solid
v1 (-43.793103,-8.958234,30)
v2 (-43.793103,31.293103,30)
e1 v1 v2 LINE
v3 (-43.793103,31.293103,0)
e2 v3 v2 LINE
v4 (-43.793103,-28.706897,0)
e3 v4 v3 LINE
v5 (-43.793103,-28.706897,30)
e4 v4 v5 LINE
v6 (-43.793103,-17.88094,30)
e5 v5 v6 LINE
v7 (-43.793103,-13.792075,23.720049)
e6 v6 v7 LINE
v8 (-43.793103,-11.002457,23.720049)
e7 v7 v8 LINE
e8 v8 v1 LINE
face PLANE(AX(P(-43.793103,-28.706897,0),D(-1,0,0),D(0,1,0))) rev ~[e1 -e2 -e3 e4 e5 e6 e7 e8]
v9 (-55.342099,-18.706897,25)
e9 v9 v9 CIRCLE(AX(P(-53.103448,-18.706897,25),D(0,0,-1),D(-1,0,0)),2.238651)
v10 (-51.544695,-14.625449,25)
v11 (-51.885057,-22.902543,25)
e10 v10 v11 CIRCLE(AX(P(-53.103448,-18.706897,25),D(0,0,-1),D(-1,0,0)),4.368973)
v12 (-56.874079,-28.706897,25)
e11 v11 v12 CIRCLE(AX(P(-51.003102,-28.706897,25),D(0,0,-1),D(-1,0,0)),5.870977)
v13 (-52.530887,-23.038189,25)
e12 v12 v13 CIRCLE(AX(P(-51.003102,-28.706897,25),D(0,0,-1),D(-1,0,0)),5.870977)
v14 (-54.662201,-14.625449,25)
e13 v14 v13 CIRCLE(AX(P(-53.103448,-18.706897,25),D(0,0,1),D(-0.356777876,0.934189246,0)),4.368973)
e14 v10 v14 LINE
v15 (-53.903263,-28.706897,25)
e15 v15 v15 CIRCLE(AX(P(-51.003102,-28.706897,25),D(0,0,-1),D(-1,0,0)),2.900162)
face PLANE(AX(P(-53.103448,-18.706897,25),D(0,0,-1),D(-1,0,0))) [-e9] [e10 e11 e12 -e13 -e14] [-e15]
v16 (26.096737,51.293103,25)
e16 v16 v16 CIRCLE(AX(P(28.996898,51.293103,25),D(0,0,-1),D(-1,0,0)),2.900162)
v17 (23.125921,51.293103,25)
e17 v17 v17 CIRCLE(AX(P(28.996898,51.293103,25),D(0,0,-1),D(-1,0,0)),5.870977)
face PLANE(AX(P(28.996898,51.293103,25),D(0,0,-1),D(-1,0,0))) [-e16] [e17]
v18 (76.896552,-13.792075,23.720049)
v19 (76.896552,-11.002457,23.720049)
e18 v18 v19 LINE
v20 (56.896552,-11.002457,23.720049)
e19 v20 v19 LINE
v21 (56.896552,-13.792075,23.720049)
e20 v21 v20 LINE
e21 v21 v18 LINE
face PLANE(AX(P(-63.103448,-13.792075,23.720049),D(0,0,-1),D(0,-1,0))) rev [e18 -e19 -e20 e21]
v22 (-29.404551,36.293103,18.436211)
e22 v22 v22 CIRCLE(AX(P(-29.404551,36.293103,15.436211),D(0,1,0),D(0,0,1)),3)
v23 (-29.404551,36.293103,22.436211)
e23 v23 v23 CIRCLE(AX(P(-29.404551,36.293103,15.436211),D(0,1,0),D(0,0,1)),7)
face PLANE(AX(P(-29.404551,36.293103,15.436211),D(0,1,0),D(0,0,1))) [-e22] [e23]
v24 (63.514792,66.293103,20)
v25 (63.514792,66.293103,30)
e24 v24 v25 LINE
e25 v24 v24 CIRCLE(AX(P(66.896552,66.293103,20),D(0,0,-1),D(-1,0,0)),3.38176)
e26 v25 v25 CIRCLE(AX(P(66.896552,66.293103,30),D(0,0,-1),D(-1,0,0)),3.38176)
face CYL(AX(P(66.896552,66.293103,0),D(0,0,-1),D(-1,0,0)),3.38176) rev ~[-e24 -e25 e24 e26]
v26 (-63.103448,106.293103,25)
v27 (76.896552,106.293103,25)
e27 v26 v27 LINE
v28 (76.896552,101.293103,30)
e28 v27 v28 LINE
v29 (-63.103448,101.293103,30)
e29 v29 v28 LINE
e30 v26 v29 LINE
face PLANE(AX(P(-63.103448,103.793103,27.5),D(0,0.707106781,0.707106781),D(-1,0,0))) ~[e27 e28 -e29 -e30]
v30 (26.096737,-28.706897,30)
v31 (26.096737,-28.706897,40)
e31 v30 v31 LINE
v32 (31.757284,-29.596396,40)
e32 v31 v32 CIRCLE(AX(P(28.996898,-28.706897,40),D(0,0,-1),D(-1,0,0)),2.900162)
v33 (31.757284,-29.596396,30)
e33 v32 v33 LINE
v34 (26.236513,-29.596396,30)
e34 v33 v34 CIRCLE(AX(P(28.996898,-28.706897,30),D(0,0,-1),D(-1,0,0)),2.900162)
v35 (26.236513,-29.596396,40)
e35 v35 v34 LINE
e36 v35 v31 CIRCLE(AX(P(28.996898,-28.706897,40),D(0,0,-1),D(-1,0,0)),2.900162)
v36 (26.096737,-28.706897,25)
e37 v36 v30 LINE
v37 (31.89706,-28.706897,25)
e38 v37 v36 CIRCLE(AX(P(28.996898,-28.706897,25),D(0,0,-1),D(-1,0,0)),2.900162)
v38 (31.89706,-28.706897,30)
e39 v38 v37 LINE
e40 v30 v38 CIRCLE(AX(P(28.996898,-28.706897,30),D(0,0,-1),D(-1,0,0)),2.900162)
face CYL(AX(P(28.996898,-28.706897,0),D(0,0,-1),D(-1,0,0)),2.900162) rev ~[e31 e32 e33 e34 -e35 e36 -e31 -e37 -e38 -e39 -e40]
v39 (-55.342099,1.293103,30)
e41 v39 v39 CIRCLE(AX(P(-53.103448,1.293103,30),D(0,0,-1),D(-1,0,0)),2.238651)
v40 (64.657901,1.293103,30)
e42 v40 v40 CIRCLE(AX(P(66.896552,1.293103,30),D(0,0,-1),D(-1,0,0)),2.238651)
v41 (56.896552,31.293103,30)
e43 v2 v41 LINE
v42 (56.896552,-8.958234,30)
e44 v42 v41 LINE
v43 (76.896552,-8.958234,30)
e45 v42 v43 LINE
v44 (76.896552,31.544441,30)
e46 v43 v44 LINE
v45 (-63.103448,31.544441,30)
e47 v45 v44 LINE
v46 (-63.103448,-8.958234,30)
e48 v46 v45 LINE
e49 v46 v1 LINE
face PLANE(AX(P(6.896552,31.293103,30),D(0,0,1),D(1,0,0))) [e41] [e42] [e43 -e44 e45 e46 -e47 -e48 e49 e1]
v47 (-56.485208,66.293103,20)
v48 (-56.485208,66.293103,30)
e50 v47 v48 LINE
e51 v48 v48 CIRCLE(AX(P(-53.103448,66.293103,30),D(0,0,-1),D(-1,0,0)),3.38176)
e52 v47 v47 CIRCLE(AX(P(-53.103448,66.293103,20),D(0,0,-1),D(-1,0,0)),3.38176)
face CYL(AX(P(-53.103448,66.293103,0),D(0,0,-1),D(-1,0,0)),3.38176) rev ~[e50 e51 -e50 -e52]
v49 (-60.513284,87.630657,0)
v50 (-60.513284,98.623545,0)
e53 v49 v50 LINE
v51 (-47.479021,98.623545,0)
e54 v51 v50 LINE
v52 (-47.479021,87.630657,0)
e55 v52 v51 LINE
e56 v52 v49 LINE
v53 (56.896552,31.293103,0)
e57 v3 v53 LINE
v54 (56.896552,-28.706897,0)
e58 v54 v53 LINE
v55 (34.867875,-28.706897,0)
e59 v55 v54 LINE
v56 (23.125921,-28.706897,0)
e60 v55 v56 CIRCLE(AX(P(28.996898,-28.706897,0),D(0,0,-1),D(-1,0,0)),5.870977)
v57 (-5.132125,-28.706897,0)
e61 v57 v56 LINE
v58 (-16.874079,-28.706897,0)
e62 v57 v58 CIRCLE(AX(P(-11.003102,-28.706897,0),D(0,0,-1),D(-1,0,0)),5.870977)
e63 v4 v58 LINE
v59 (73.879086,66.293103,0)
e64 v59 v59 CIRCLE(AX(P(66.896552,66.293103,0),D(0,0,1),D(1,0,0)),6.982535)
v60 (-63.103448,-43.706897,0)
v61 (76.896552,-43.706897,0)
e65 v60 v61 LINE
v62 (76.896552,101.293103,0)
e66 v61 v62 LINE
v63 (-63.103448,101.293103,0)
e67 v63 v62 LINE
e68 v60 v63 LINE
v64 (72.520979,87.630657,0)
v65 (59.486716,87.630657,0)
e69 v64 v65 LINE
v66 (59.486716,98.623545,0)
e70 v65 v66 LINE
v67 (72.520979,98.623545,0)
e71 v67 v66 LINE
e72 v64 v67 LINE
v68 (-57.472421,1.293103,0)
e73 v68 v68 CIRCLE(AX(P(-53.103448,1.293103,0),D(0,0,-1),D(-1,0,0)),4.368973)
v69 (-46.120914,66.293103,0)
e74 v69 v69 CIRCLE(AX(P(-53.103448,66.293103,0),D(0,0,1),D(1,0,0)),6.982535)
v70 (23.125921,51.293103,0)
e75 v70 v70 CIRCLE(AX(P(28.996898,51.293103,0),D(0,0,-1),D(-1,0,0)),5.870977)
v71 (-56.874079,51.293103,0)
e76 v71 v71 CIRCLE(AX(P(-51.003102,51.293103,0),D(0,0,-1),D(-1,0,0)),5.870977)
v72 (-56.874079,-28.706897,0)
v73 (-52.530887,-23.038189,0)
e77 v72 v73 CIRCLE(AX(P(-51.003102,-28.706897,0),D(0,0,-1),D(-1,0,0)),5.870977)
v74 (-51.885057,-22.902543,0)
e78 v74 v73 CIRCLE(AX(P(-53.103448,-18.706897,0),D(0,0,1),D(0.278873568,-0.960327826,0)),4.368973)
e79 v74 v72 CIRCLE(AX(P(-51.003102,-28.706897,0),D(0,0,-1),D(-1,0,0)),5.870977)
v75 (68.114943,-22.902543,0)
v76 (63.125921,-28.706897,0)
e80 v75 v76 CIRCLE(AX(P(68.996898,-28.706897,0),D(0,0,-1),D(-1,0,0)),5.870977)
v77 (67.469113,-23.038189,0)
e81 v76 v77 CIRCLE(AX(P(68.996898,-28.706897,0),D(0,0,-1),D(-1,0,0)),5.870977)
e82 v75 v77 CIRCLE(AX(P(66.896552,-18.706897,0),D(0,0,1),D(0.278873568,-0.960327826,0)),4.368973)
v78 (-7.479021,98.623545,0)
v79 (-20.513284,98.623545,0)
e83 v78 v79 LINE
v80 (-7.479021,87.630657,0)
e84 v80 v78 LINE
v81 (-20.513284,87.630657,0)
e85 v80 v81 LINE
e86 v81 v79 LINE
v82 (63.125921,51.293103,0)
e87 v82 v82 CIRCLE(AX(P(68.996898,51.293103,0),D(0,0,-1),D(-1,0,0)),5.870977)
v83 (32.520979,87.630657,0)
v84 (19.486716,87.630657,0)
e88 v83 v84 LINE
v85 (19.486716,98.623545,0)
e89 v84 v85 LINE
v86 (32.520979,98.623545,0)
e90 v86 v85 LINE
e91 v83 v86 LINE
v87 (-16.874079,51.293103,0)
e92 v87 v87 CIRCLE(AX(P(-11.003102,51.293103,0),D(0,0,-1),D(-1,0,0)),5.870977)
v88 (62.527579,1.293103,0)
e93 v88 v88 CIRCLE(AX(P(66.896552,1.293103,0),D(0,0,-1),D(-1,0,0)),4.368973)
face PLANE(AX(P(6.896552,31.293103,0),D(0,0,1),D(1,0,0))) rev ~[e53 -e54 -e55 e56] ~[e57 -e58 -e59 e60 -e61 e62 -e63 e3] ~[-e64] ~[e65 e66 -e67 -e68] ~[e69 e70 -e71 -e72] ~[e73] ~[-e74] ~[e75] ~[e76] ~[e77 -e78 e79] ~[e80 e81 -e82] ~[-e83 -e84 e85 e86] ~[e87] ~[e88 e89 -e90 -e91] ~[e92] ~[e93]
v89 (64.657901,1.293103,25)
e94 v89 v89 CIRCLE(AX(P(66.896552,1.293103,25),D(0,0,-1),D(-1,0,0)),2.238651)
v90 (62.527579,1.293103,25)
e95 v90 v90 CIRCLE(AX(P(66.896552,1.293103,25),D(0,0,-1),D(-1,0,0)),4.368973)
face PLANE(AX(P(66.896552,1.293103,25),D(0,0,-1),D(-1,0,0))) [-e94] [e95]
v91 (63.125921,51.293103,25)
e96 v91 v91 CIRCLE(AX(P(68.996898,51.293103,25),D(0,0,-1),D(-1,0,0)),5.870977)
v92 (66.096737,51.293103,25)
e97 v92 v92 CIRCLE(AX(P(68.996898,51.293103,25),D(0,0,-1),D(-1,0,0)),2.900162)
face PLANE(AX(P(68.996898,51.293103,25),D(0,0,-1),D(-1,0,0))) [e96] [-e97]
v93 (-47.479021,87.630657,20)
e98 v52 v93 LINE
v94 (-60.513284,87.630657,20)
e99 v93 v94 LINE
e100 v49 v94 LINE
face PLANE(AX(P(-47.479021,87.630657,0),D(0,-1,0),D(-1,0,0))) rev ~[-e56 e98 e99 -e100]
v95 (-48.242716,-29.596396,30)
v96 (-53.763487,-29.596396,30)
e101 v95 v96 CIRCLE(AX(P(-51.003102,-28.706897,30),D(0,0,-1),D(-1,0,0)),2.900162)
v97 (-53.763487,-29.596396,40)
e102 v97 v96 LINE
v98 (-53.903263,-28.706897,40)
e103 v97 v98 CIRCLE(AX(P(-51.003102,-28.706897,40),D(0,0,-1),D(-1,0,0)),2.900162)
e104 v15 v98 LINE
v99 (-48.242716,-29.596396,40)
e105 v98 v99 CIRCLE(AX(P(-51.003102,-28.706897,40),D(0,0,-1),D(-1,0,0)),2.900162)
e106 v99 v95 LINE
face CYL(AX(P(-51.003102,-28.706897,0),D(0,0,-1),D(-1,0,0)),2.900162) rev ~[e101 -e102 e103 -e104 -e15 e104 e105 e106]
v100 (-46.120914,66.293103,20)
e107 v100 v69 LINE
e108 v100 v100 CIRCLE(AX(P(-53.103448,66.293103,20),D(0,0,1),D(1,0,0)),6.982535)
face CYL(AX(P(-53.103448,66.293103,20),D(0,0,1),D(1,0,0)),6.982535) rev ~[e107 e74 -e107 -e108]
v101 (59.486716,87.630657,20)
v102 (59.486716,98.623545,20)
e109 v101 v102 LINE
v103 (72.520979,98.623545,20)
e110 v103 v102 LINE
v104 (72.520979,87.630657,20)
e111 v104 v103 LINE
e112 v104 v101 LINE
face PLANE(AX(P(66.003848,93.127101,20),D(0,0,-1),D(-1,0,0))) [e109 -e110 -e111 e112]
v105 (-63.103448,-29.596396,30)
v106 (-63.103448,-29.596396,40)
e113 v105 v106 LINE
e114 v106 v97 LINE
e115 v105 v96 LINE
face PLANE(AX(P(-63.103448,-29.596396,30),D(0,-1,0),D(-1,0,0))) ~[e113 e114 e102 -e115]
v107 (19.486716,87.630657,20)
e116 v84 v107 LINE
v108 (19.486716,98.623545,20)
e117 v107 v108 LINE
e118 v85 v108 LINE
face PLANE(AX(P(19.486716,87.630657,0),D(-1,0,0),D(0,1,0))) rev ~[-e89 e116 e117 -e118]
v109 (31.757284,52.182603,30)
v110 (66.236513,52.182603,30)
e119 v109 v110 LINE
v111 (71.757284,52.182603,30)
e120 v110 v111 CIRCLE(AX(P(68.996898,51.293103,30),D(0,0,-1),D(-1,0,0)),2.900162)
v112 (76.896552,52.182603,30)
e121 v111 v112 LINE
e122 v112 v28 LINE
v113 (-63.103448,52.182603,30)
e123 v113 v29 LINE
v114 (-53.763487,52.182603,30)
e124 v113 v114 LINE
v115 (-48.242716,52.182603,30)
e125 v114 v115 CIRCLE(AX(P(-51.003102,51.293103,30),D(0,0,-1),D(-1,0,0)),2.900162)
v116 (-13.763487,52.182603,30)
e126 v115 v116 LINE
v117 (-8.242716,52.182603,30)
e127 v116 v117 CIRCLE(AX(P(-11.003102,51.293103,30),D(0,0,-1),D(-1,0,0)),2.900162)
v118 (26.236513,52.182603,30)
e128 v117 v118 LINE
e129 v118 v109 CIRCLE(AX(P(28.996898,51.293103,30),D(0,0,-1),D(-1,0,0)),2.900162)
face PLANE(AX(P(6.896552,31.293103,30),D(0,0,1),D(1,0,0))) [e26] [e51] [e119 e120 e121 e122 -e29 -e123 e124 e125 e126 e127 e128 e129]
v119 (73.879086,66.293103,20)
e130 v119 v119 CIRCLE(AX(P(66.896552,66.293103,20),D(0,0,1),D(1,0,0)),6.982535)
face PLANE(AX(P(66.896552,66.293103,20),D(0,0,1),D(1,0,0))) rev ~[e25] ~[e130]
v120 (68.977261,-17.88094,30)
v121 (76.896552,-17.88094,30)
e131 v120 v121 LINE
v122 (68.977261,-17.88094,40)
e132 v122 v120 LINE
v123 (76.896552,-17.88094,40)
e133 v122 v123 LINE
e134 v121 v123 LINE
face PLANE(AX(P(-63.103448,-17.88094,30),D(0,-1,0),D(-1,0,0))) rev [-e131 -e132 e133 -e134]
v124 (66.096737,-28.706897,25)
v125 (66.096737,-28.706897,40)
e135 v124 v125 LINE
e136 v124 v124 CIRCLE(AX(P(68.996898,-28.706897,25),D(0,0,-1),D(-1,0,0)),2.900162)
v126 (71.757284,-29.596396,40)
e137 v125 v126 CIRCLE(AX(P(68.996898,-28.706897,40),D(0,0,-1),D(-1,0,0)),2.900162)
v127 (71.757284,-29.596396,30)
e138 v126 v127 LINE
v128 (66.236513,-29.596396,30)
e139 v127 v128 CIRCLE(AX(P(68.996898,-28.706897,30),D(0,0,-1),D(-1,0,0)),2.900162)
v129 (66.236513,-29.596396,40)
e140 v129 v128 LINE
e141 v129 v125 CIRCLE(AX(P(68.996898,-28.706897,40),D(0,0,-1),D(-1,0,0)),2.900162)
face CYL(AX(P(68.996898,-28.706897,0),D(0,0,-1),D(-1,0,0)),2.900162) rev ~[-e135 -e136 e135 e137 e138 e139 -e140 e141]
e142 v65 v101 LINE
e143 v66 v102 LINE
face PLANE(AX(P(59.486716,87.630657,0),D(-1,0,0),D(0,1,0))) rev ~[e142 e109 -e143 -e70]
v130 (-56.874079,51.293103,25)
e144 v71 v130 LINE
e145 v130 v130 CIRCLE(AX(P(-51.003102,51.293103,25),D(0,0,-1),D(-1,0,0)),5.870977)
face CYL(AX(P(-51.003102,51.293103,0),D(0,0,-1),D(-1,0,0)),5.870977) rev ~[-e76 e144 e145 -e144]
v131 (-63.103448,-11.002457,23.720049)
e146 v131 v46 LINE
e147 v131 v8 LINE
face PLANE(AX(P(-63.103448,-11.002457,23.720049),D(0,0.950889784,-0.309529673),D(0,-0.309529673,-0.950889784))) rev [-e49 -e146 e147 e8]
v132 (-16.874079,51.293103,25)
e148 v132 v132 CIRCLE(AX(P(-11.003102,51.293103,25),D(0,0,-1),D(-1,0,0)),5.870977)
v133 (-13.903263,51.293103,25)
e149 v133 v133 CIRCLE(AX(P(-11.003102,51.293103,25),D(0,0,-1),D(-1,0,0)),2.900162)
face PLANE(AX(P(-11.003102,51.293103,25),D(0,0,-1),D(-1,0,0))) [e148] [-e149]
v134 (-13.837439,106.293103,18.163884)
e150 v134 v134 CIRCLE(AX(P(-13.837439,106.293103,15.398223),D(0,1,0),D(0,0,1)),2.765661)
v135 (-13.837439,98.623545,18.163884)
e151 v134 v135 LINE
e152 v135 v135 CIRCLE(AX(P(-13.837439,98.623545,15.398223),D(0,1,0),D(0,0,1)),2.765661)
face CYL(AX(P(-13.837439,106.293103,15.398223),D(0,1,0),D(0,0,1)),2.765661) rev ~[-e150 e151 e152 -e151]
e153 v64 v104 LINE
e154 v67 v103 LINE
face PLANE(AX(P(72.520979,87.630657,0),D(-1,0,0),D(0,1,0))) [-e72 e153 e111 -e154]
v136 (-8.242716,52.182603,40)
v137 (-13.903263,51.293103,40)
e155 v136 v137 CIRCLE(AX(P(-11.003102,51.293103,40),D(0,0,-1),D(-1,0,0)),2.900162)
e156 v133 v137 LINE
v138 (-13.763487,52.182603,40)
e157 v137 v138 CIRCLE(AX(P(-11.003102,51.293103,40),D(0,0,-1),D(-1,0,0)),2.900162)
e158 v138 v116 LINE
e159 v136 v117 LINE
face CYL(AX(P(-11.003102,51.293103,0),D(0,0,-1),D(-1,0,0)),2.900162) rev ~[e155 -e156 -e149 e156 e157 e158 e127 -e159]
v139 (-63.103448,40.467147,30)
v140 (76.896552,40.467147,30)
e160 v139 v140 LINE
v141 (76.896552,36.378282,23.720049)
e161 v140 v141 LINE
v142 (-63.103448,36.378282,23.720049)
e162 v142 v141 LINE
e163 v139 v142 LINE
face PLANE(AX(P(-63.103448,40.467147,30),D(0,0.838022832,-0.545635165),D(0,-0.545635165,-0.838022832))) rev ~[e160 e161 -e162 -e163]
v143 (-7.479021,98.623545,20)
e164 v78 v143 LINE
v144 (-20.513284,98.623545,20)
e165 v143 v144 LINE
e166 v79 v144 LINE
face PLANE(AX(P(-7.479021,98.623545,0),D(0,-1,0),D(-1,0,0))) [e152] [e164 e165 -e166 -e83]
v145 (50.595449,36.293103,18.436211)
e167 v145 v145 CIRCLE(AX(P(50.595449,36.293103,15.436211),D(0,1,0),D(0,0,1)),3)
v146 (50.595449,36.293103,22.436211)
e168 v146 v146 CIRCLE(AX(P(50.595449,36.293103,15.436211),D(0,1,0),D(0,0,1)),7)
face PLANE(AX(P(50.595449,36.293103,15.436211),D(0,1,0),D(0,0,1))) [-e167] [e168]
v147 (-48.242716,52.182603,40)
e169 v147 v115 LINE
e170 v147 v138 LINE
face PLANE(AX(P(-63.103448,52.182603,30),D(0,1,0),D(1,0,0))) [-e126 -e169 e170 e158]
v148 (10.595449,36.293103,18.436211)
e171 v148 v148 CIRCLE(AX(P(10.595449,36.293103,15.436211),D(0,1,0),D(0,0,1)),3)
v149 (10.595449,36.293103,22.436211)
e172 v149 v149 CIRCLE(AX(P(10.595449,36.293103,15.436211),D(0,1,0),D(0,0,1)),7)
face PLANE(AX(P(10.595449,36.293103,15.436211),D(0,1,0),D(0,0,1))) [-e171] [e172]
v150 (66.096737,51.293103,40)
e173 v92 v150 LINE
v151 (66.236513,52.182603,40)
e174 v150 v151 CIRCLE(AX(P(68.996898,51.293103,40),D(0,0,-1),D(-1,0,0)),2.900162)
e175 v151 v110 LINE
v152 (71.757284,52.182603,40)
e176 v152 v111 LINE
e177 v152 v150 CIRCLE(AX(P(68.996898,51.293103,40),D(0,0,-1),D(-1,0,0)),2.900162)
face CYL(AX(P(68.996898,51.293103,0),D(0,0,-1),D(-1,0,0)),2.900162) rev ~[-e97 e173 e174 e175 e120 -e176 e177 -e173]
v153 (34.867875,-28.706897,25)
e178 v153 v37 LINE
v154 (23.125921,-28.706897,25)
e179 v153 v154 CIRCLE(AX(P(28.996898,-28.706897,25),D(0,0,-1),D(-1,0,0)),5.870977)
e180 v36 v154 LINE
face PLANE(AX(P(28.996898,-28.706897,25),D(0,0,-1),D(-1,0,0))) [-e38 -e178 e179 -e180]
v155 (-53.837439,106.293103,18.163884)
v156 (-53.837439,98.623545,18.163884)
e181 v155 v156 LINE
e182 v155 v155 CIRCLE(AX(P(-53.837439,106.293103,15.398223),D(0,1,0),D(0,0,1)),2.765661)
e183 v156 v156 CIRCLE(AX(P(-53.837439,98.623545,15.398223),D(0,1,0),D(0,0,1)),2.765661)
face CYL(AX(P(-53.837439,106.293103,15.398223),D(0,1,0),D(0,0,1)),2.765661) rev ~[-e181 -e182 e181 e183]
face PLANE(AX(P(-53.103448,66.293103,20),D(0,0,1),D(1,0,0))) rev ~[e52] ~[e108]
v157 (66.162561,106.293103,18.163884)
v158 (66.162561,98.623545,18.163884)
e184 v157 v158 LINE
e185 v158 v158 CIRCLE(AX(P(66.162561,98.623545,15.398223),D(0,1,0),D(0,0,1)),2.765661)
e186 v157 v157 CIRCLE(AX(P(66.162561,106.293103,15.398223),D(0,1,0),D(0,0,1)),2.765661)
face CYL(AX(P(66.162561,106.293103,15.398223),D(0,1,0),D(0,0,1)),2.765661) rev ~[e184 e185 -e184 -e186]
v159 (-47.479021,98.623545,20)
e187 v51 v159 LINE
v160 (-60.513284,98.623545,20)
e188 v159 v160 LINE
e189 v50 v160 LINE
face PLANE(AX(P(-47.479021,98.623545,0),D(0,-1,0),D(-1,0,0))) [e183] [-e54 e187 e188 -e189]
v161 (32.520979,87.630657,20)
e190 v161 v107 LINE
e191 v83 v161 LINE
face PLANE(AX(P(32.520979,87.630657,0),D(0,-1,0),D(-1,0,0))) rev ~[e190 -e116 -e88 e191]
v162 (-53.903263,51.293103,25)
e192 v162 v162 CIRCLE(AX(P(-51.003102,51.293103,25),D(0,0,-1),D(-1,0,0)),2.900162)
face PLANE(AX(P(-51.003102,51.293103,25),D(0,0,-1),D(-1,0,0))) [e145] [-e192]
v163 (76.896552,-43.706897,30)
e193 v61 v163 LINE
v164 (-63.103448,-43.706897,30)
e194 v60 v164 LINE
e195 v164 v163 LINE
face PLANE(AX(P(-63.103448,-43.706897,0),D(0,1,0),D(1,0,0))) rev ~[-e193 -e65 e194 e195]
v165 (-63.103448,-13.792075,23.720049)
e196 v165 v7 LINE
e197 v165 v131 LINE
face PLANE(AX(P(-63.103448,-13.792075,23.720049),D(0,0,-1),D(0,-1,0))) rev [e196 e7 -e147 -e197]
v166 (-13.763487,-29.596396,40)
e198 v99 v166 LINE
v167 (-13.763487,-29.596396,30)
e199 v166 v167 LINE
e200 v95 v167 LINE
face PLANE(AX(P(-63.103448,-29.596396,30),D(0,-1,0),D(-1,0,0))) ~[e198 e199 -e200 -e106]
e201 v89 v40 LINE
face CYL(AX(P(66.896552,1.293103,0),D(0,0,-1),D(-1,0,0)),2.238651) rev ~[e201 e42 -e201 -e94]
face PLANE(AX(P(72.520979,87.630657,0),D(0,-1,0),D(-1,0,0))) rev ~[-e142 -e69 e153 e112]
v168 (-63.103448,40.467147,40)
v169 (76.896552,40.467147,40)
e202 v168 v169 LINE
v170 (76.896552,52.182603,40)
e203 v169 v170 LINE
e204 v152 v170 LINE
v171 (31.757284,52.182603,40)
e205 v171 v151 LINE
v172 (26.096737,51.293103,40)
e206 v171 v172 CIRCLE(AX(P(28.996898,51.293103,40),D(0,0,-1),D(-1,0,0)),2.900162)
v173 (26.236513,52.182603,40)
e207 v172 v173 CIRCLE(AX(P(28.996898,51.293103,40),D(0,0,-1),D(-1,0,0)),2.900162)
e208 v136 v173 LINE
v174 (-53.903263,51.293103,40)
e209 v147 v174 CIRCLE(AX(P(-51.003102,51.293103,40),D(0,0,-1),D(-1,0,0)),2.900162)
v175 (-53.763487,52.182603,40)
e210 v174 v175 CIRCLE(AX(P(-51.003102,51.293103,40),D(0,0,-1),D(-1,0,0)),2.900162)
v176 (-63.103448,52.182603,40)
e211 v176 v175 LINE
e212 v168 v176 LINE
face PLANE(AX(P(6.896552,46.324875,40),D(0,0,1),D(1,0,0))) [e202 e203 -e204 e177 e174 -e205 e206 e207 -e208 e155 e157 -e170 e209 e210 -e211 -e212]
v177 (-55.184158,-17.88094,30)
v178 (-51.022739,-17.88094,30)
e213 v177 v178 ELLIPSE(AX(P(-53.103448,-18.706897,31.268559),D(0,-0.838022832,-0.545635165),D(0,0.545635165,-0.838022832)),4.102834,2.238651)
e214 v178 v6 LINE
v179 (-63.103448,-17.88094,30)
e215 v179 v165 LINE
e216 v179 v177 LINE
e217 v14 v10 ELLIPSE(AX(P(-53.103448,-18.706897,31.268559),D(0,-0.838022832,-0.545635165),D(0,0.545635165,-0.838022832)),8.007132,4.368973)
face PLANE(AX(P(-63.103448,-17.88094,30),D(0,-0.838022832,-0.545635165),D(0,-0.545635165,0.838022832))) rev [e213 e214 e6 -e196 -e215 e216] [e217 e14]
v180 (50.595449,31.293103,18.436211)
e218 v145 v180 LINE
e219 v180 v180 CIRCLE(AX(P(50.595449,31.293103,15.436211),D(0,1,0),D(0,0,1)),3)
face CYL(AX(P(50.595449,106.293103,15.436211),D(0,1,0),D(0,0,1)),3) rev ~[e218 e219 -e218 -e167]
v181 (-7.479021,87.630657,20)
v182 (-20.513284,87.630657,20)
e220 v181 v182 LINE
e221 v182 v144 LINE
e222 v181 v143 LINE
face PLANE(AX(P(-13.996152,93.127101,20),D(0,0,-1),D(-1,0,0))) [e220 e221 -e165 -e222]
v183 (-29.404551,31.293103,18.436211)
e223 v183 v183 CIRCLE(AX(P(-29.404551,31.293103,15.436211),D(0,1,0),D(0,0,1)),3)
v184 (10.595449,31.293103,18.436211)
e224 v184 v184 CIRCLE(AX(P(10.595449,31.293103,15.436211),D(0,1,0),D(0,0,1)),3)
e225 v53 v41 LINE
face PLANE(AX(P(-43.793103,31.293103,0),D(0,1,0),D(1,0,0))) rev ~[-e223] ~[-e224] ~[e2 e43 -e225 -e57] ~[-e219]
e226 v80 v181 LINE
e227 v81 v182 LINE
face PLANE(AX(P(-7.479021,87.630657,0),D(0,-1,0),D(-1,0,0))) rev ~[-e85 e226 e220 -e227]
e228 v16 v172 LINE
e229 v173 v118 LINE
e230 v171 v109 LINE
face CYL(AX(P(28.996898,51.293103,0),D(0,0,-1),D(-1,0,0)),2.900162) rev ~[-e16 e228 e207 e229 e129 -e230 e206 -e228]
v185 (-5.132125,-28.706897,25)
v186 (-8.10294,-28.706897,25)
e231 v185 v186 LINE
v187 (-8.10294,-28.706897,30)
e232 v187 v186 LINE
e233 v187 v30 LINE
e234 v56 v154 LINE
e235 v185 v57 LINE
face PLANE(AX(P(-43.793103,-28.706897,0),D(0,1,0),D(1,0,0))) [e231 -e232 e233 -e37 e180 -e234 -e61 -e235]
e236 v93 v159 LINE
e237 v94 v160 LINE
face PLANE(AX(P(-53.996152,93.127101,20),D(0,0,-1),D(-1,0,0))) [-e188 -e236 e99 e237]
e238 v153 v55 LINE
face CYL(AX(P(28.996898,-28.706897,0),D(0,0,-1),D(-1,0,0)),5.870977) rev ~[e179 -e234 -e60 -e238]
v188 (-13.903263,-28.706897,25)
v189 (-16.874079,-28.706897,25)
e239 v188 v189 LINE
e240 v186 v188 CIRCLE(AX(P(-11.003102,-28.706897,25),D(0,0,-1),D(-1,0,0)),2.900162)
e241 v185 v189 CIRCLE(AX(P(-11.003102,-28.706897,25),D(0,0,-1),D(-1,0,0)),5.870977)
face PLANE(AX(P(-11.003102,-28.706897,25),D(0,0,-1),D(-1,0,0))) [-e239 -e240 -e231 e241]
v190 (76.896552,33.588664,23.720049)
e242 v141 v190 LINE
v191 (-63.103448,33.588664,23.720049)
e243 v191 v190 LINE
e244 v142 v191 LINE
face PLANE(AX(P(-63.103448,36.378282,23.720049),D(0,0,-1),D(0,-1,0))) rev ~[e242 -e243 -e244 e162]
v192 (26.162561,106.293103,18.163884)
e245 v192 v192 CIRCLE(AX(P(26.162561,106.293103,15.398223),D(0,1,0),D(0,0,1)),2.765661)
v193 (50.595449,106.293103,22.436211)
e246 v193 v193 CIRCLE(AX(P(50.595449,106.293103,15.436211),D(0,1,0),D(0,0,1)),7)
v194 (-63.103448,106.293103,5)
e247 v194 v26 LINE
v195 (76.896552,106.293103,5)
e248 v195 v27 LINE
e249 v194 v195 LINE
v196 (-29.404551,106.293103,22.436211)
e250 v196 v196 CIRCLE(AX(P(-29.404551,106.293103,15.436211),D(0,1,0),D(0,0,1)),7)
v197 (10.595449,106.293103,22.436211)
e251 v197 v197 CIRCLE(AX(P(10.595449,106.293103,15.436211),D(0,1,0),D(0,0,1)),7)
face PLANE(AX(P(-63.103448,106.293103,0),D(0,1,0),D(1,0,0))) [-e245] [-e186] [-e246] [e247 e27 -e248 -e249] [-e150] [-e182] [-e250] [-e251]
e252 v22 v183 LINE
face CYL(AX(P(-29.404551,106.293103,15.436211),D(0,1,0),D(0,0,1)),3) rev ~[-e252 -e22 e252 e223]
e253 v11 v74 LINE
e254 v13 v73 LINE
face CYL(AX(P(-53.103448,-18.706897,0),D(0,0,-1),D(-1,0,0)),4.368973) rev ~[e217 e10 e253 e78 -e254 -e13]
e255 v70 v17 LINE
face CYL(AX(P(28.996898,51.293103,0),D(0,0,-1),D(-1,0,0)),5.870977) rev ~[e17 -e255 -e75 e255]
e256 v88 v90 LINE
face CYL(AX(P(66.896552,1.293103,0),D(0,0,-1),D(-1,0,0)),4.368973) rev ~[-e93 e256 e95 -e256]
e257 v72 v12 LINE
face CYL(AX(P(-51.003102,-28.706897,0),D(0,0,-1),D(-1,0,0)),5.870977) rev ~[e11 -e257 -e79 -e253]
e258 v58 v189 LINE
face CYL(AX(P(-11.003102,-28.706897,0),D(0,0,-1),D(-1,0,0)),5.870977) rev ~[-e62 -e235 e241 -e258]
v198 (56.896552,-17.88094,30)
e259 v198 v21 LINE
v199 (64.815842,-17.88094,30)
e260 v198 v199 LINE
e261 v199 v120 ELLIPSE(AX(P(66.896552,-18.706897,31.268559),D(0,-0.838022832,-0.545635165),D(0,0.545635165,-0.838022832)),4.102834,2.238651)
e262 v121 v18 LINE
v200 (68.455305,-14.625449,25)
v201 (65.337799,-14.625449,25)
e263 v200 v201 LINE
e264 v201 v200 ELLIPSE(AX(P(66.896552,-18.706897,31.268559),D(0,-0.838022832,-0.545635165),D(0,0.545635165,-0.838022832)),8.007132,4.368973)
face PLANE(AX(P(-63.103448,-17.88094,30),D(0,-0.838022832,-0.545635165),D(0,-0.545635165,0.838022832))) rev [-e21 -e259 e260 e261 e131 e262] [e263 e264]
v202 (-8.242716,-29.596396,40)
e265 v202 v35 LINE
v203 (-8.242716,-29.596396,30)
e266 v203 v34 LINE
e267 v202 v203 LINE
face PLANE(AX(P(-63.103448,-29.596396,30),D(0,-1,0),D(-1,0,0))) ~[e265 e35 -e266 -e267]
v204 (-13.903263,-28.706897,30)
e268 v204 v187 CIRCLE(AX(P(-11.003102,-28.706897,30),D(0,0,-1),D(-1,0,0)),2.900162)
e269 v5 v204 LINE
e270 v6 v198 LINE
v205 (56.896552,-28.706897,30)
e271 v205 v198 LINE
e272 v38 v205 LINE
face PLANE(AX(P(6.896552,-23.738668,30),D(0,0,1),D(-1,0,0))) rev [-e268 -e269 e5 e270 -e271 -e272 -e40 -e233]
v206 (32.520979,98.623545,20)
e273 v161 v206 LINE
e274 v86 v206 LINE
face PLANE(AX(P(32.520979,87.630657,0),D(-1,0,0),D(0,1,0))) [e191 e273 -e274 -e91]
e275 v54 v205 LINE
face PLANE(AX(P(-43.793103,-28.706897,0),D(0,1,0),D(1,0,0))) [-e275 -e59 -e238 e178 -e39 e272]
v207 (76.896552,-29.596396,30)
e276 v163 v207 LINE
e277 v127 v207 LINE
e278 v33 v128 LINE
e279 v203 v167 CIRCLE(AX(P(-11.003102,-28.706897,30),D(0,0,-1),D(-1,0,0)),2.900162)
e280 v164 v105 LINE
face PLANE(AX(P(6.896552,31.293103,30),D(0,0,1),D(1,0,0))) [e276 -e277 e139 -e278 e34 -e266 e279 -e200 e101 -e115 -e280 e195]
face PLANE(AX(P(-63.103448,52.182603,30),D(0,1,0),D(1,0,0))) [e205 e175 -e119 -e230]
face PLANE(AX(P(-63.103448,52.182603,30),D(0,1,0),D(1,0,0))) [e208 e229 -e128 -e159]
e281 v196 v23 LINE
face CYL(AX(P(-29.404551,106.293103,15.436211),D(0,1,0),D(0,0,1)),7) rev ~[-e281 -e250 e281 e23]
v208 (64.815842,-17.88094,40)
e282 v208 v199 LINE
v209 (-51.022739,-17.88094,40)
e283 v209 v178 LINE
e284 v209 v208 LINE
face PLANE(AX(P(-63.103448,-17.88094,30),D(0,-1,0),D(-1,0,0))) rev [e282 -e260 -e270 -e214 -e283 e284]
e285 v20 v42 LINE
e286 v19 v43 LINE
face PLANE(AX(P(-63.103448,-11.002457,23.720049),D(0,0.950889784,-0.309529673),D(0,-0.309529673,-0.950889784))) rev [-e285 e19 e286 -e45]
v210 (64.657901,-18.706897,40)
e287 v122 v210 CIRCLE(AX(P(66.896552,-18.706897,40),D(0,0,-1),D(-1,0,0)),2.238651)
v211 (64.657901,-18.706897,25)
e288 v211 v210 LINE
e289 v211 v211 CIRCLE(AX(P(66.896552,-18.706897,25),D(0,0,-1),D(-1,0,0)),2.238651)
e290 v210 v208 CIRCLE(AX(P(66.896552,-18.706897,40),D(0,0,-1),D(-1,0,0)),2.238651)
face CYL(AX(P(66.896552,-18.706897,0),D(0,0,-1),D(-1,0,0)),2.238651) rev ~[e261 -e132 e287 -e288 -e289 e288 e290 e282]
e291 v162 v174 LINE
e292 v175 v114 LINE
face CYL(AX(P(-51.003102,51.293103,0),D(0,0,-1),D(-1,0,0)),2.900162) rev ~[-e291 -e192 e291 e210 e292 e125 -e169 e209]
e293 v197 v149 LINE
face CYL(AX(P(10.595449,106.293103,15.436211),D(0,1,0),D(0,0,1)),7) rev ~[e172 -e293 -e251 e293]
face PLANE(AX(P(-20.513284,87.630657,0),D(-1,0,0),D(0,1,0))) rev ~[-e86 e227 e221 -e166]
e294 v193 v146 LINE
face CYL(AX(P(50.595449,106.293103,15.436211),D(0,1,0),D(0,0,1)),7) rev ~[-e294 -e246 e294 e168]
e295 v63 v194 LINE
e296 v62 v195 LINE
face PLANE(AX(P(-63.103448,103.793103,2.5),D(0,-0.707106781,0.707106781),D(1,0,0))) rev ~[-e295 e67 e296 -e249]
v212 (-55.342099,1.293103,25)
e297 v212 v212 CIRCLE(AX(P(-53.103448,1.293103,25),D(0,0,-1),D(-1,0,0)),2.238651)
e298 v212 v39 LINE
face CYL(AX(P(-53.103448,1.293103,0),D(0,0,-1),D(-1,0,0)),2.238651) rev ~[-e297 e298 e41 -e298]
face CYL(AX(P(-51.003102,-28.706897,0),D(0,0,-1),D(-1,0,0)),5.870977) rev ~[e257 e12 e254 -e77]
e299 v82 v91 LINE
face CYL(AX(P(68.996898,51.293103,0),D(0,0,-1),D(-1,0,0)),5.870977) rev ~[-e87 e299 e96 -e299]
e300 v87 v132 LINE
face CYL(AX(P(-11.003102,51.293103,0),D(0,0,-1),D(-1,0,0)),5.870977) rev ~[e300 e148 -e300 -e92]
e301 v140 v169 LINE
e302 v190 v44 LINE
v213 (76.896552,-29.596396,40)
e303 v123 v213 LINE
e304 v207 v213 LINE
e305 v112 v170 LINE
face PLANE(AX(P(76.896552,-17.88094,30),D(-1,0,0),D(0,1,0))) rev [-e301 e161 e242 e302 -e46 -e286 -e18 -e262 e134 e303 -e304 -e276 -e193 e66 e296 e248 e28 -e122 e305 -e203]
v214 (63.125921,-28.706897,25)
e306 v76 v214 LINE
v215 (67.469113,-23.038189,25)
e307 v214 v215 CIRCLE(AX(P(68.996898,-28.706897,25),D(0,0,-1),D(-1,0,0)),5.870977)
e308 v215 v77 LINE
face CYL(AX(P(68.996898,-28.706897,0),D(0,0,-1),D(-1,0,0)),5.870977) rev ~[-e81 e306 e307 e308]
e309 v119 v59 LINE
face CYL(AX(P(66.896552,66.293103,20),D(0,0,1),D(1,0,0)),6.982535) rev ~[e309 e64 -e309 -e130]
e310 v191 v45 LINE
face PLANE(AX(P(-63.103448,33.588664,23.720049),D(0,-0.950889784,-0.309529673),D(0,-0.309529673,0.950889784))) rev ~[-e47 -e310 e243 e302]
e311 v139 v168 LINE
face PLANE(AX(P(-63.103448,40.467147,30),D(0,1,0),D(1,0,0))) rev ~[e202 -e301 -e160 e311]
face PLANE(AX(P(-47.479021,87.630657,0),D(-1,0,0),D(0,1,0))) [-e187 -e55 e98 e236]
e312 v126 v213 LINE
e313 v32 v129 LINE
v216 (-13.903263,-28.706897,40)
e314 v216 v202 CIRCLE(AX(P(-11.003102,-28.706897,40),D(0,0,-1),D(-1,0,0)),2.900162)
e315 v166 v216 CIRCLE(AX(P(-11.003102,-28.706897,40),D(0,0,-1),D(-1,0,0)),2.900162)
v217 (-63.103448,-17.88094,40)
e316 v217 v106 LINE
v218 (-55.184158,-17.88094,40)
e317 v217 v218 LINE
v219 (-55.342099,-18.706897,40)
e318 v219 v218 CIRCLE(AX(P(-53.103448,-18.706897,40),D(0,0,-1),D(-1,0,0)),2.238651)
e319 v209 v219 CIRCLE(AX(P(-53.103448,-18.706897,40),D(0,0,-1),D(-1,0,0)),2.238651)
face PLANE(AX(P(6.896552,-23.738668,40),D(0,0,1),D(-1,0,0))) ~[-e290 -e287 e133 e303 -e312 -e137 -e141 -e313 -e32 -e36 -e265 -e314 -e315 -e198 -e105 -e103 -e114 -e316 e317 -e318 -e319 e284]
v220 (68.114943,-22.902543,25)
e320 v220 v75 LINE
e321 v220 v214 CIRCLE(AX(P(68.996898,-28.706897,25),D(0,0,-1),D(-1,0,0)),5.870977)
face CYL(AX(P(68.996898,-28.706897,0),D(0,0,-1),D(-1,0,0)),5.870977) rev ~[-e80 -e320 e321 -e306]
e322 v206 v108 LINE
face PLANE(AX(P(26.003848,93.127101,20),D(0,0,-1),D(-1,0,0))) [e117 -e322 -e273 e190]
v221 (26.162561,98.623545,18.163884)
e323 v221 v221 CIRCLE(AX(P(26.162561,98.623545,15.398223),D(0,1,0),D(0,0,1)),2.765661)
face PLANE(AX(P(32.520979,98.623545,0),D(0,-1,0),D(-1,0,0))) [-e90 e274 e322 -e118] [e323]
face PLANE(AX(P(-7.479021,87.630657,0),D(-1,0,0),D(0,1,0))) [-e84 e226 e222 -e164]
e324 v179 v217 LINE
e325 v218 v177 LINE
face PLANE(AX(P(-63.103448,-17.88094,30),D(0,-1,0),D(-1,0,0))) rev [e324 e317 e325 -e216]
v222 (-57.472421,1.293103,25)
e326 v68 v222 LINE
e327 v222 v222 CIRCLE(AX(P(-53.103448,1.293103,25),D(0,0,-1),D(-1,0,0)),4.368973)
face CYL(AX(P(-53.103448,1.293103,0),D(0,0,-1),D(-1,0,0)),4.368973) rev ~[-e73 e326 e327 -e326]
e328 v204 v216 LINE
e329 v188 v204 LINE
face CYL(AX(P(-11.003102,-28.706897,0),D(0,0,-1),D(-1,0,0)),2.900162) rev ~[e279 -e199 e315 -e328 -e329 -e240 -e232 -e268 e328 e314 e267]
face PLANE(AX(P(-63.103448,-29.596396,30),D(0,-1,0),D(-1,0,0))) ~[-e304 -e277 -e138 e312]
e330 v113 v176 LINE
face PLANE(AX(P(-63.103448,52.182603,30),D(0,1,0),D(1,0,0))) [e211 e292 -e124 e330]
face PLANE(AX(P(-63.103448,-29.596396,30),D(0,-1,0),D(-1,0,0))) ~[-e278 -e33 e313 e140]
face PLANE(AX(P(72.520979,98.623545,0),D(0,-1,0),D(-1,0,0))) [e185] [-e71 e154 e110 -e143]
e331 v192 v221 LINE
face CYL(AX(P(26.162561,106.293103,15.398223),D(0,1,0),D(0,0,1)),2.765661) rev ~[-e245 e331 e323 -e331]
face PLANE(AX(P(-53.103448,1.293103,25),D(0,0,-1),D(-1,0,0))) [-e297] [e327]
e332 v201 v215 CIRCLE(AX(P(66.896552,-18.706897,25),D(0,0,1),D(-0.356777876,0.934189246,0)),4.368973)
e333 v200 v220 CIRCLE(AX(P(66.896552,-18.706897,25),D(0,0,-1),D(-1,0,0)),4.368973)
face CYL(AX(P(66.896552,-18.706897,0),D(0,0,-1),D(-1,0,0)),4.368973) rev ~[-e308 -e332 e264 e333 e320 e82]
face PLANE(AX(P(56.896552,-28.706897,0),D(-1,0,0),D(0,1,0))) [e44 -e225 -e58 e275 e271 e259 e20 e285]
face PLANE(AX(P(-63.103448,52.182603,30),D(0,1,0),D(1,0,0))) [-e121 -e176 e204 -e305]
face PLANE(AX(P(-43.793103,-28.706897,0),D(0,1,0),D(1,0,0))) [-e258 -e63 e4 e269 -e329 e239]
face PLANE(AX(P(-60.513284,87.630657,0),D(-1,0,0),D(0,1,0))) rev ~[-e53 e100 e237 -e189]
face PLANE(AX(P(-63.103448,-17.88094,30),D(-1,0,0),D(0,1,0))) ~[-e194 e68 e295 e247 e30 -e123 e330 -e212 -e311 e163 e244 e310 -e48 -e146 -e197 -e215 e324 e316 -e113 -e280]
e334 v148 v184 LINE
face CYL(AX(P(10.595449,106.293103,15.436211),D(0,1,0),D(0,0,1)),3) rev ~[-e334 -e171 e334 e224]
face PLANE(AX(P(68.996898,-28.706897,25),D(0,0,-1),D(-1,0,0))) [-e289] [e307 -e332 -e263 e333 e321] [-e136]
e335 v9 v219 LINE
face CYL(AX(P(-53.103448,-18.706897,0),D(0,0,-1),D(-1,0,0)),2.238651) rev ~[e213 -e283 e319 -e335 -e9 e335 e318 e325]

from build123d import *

# Parameters (mm, degrees)
SKETCH1_W            = 140
SKETCH1_H            = 150
SKETCH1_W_2          = 100.689655172
SKETCH1_H_2          = 60
BOSS_EXTRUDE1_DEPTH  = 30
CUT_EXTRUDE1_DEPTH   = 300
SKETCH11_W           = 140
SKETCH11_H           = 11.715455608
BOSS_EXTRUDE2_DEPTH  = 10
SKETCH3_R            = 3
CUT_EXTRUDE2_DEPTH   = 100
SKETCH4_R            = 7
CUT_EXTRUDE3_DEPTH   = 70
LPATTERN1_COUNT      = 3
LPATTERN1_PITCH      = 40
SKETCH5_R            = 2.238650571
CUT_EXTRUDE4_DEPTH   = 100
SKETCH6_R            = 4.368973
CUT_EXTRUDE5_DEPTH   = 25
LPATTERN2_COUNT      = 2
LPATTERN2_PITCH      = 20
LPATTERN2_COUNT_DIR2 = 2
LPATTERN2_PITCH_DIR2 = 120
SKETCH7_R            = 2.900161541
CUT_EXTRUDE6_DEPTH   = 40
SKETCH8_R            = 5.870976625
CUT_EXTRUDE7_DEPTH   = 25
LPATTERN3_COUNT      = 4
LPATTERN3_PITCH      = 40
LPATTERN3_COUNT_DIR2 = 2
LPATTERN3_PITCH_DIR2 = 80
SKETCH9_R            = 3.381759822
CUT_EXTRUDE8_DEPTH   = 100
CUT_EXTRUDE9_START   = -10
SKETCH10_R           = 6.982534733
CUT_EXTRUDE9_DEPTH   = 20
LPATTERN4_COUNT      = 2
LPATTERN4_PITCH      = 120
CHAMFER1_SIZE        = 5
SKETCH16_W           = 13.0342626
SKETCH16_H           = 10.99288792
CUT_EXTRUDE13_DEPTH  = 20
SKETCH17_R           = 2.765660559
CUT_EXTRUDE14_DEPTH  = 15
LPATTERN6_COUNT      = 4
LPATTERN6_PITCH      = 40


with BuildPart() as part:
    # Sketch1 → Boss-Extrude1 (new body)
    with BuildSketch(Plane.XY):
        with Locations((6.896551724, 31.293103448)):
            Rectangle(SKETCH1_W, SKETCH1_H)
        with Locations((6.551724138, 1.293103448)):
            Rectangle(SKETCH1_W_2, SKETCH1_H_2, mode=Mode.SUBTRACT)
    extrude(amount=BOSS_EXTRUDE1_DEPTH)

    # Sketch2 → Cut-Extrude1 (cut)
    with BuildSketch(Plane.ZY.offset(63.103448276)):
        Polygon((30, 40.467146905), (23.720048633, 36.378281812), (23.720048633, 33.58866414), (30, 31.544440585), align=None)
    cut_extrude1 = extrude(amount=-CUT_EXTRUDE1_DEPTH, mode=Mode.SUBTRACT)

    # Sketch11 → Boss-Extrude2 (add)
    with BuildSketch(Plane.XY.offset(30)):
        with Locations((6.896551724, 46.324874709)):
            Rectangle(SKETCH11_W, SKETCH11_H)
    boss_extrude2 = extrude(amount=BOSS_EXTRUDE2_DEPTH)

    # Mirror1: Cut-Extrude1, Boss-Extrude2 across plane
    add(cut_extrude1.mirror(Plane(origin=(0, 11.293103448, 0), x_dir=(0, 0, 1), z_dir=(0, -1, 0))), mode=Mode.SUBTRACT)
    add(boss_extrude2.mirror(Plane(origin=(0, 11.293103448, 0), x_dir=(0, 0, 1), z_dir=(0, -1, 0))))

    # Sketch3 → Cut-Extrude2 (cut)
    with BuildSketch(Plane(origin=(0, 106.293103448, 0), x_dir=(1, 0, 0), z_dir=(0, 1, 0))):
        with Locations(Location((-29.404551137, -15.436210525, 0), (0, 0, 270))):
            Circle(SKETCH3_R)
    cut_extrude2 = extrude(amount=-CUT_EXTRUDE2_DEPTH, mode=Mode.SUBTRACT)

    # Sketch4 → Cut-Extrude3 (cut)
    with BuildSketch(Plane(origin=(0, 106.293103448, 0), x_dir=(1, 0, 0), z_dir=(0, 1, 0))):
        with Locations(Location((-29.404551137, -15.436210525, 0), (0, 0, 270))):
            Circle(SKETCH4_R)
    cut_extrude3 = extrude(amount=-CUT_EXTRUDE3_DEPTH, mode=Mode.SUBTRACT)

    # LPattern1: Cut-Extrude2, Cut-Extrude3 ×3
    with Locations(*[(i * LPATTERN1_PITCH, 0, 0) for i in range(1, LPATTERN1_COUNT)]):
        add(cut_extrude2, mode=Mode.SUBTRACT)
        add(cut_extrude3, mode=Mode.SUBTRACT)

    # Sketch5 → Cut-Extrude4 (cut)
    with BuildSketch(Plane(origin=(0, 0, 0), x_dir=(-1, 0, 0), z_dir=(0, 0, -1))):
        with Locations((53.103448276, -18.706896552)):
            Circle(SKETCH5_R)
    cut_extrude4 = extrude(amount=-CUT_EXTRUDE4_DEPTH, mode=Mode.SUBTRACT)

    # Sketch6 → Cut-Extrude5 (cut)
    with BuildSketch(Plane(origin=(0, 0, 0), x_dir=(-1, 0, 0), z_dir=(0, 0, -1))):
        with Locations((53.103448276, -18.706896552)):
            Circle(SKETCH6_R)
    cut_extrude5 = extrude(amount=-CUT_EXTRUDE5_DEPTH, mode=Mode.SUBTRACT)

    # LPattern2: Cut-Extrude4, Cut-Extrude5 2 × 2
    with Locations(*[(j * LPATTERN2_PITCH_DIR2, i * LPATTERN2_PITCH, 0) for i in range(LPATTERN2_COUNT) for j in range(LPATTERN2_COUNT_DIR2) if (i, j) != (0, 0)]):
        add(cut_extrude4, mode=Mode.SUBTRACT)
        add(cut_extrude5, mode=Mode.SUBTRACT)

    # Sketch7 → Cut-Extrude6 (cut)
    with BuildSketch(Plane(origin=(0, 0, 0), x_dir=(-1, 0, 0), z_dir=(0, 0, -1))):
        with Locations((51.00310189, 51.293103448)):
            Circle(SKETCH7_R)
    cut_extrude6 = extrude(amount=-CUT_EXTRUDE6_DEPTH, mode=Mode.SUBTRACT)

    # Sketch8 → Cut-Extrude7 (cut)
    with BuildSketch(Plane(origin=(0, 0, 0), x_dir=(-1, 0, 0), z_dir=(0, 0, -1))):
        with Locations((51.00310189, 51.293103448)):
            Circle(SKETCH8_R)
    cut_extrude7 = extrude(amount=-CUT_EXTRUDE7_DEPTH, mode=Mode.SUBTRACT)

    # LPattern3: Cut-Extrude6, Cut-Extrude7 4 × 2
    with Locations(*[(i * LPATTERN3_PITCH, -j * LPATTERN3_PITCH_DIR2, 0) for i in range(LPATTERN3_COUNT) for j in range(LPATTERN3_COUNT_DIR2) if (i, j) != (0, 0)]):
        add(cut_extrude6, mode=Mode.SUBTRACT)
        add(cut_extrude7, mode=Mode.SUBTRACT)

    # Sketch9 → Cut-Extrude8 (cut)
    with BuildSketch(Plane(origin=(0, 0, 0), x_dir=(-1, 0, 0), z_dir=(0, 0, -1))):
        with Locations((-66.896551724, 66.293103448)):
            Circle(SKETCH9_R)
    cut_extrude8 = extrude(amount=-CUT_EXTRUDE8_DEPTH, mode=Mode.SUBTRACT)

    # Sketch10 → Cut-Extrude9 (cut)
    with BuildSketch(Plane.XY.offset(30).offset(CUT_EXTRUDE9_START)):
        with Locations((66.896551724, 66.293103448)):
            Circle(SKETCH10_R)
    cut_extrude9 = extrude(amount=-CUT_EXTRUDE9_DEPTH, mode=Mode.SUBTRACT)

    # LPattern4: Cut-Extrude8, Cut-Extrude9 ×2
    with Locations(*[(-i * LPATTERN4_PITCH, 0, 0) for i in range(1, LPATTERN4_COUNT)]):
        add(cut_extrude8, mode=Mode.SUBTRACT)
        add(cut_extrude9, mode=Mode.SUBTRACT)

    # Chamfer1
    chamfer1_edges = [part.edges().sort_by_distance(p)[0] for p in [
        (6.896551724, 106.293103448, 30),
        (6.896551724, 106.293103448, 0),
    ]]
    chamfer(chamfer1_edges, length=CHAMFER1_SIZE)

    # Sketch16 → Cut-Extrude13 (cut)
    with BuildSketch(Plane(origin=(0, 0, 0), x_dir=(-1, 0, 0), z_dir=(0, 0, -1))):
        with Locations((-66.003847549, 93.127101144)):
            Rectangle(SKETCH16_W, SKETCH16_H)
    cut_extrude13 = extrude(amount=-CUT_EXTRUDE13_DEPTH, mode=Mode.SUBTRACT)

    # Sketch17 → Cut-Extrude14 (cut)
    with BuildSketch(Plane(origin=(0, 106.293103448, 0), x_dir=(1, 0, 0), z_dir=(0, 1, 0))):
        with Locations(Location((66.162561207, -15.398222954, 0), (0, 0, 270))):
            Circle(SKETCH17_R)
    cut_extrude14 = extrude(amount=-CUT_EXTRUDE14_DEPTH, mode=Mode.SUBTRACT)

    # LPattern6: Cut-Extrude13, Cut-Extrude14 ×4
    with Locations(*[(-i * LPATTERN6_PITCH, 0, 0) for i in range(1, LPATTERN6_COUNT)]):
        add(cut_extrude13, mode=Mode.SUBTRACT)
        add(cut_extrude14, mode=Mode.SUBTRACT)


solid = part.part
